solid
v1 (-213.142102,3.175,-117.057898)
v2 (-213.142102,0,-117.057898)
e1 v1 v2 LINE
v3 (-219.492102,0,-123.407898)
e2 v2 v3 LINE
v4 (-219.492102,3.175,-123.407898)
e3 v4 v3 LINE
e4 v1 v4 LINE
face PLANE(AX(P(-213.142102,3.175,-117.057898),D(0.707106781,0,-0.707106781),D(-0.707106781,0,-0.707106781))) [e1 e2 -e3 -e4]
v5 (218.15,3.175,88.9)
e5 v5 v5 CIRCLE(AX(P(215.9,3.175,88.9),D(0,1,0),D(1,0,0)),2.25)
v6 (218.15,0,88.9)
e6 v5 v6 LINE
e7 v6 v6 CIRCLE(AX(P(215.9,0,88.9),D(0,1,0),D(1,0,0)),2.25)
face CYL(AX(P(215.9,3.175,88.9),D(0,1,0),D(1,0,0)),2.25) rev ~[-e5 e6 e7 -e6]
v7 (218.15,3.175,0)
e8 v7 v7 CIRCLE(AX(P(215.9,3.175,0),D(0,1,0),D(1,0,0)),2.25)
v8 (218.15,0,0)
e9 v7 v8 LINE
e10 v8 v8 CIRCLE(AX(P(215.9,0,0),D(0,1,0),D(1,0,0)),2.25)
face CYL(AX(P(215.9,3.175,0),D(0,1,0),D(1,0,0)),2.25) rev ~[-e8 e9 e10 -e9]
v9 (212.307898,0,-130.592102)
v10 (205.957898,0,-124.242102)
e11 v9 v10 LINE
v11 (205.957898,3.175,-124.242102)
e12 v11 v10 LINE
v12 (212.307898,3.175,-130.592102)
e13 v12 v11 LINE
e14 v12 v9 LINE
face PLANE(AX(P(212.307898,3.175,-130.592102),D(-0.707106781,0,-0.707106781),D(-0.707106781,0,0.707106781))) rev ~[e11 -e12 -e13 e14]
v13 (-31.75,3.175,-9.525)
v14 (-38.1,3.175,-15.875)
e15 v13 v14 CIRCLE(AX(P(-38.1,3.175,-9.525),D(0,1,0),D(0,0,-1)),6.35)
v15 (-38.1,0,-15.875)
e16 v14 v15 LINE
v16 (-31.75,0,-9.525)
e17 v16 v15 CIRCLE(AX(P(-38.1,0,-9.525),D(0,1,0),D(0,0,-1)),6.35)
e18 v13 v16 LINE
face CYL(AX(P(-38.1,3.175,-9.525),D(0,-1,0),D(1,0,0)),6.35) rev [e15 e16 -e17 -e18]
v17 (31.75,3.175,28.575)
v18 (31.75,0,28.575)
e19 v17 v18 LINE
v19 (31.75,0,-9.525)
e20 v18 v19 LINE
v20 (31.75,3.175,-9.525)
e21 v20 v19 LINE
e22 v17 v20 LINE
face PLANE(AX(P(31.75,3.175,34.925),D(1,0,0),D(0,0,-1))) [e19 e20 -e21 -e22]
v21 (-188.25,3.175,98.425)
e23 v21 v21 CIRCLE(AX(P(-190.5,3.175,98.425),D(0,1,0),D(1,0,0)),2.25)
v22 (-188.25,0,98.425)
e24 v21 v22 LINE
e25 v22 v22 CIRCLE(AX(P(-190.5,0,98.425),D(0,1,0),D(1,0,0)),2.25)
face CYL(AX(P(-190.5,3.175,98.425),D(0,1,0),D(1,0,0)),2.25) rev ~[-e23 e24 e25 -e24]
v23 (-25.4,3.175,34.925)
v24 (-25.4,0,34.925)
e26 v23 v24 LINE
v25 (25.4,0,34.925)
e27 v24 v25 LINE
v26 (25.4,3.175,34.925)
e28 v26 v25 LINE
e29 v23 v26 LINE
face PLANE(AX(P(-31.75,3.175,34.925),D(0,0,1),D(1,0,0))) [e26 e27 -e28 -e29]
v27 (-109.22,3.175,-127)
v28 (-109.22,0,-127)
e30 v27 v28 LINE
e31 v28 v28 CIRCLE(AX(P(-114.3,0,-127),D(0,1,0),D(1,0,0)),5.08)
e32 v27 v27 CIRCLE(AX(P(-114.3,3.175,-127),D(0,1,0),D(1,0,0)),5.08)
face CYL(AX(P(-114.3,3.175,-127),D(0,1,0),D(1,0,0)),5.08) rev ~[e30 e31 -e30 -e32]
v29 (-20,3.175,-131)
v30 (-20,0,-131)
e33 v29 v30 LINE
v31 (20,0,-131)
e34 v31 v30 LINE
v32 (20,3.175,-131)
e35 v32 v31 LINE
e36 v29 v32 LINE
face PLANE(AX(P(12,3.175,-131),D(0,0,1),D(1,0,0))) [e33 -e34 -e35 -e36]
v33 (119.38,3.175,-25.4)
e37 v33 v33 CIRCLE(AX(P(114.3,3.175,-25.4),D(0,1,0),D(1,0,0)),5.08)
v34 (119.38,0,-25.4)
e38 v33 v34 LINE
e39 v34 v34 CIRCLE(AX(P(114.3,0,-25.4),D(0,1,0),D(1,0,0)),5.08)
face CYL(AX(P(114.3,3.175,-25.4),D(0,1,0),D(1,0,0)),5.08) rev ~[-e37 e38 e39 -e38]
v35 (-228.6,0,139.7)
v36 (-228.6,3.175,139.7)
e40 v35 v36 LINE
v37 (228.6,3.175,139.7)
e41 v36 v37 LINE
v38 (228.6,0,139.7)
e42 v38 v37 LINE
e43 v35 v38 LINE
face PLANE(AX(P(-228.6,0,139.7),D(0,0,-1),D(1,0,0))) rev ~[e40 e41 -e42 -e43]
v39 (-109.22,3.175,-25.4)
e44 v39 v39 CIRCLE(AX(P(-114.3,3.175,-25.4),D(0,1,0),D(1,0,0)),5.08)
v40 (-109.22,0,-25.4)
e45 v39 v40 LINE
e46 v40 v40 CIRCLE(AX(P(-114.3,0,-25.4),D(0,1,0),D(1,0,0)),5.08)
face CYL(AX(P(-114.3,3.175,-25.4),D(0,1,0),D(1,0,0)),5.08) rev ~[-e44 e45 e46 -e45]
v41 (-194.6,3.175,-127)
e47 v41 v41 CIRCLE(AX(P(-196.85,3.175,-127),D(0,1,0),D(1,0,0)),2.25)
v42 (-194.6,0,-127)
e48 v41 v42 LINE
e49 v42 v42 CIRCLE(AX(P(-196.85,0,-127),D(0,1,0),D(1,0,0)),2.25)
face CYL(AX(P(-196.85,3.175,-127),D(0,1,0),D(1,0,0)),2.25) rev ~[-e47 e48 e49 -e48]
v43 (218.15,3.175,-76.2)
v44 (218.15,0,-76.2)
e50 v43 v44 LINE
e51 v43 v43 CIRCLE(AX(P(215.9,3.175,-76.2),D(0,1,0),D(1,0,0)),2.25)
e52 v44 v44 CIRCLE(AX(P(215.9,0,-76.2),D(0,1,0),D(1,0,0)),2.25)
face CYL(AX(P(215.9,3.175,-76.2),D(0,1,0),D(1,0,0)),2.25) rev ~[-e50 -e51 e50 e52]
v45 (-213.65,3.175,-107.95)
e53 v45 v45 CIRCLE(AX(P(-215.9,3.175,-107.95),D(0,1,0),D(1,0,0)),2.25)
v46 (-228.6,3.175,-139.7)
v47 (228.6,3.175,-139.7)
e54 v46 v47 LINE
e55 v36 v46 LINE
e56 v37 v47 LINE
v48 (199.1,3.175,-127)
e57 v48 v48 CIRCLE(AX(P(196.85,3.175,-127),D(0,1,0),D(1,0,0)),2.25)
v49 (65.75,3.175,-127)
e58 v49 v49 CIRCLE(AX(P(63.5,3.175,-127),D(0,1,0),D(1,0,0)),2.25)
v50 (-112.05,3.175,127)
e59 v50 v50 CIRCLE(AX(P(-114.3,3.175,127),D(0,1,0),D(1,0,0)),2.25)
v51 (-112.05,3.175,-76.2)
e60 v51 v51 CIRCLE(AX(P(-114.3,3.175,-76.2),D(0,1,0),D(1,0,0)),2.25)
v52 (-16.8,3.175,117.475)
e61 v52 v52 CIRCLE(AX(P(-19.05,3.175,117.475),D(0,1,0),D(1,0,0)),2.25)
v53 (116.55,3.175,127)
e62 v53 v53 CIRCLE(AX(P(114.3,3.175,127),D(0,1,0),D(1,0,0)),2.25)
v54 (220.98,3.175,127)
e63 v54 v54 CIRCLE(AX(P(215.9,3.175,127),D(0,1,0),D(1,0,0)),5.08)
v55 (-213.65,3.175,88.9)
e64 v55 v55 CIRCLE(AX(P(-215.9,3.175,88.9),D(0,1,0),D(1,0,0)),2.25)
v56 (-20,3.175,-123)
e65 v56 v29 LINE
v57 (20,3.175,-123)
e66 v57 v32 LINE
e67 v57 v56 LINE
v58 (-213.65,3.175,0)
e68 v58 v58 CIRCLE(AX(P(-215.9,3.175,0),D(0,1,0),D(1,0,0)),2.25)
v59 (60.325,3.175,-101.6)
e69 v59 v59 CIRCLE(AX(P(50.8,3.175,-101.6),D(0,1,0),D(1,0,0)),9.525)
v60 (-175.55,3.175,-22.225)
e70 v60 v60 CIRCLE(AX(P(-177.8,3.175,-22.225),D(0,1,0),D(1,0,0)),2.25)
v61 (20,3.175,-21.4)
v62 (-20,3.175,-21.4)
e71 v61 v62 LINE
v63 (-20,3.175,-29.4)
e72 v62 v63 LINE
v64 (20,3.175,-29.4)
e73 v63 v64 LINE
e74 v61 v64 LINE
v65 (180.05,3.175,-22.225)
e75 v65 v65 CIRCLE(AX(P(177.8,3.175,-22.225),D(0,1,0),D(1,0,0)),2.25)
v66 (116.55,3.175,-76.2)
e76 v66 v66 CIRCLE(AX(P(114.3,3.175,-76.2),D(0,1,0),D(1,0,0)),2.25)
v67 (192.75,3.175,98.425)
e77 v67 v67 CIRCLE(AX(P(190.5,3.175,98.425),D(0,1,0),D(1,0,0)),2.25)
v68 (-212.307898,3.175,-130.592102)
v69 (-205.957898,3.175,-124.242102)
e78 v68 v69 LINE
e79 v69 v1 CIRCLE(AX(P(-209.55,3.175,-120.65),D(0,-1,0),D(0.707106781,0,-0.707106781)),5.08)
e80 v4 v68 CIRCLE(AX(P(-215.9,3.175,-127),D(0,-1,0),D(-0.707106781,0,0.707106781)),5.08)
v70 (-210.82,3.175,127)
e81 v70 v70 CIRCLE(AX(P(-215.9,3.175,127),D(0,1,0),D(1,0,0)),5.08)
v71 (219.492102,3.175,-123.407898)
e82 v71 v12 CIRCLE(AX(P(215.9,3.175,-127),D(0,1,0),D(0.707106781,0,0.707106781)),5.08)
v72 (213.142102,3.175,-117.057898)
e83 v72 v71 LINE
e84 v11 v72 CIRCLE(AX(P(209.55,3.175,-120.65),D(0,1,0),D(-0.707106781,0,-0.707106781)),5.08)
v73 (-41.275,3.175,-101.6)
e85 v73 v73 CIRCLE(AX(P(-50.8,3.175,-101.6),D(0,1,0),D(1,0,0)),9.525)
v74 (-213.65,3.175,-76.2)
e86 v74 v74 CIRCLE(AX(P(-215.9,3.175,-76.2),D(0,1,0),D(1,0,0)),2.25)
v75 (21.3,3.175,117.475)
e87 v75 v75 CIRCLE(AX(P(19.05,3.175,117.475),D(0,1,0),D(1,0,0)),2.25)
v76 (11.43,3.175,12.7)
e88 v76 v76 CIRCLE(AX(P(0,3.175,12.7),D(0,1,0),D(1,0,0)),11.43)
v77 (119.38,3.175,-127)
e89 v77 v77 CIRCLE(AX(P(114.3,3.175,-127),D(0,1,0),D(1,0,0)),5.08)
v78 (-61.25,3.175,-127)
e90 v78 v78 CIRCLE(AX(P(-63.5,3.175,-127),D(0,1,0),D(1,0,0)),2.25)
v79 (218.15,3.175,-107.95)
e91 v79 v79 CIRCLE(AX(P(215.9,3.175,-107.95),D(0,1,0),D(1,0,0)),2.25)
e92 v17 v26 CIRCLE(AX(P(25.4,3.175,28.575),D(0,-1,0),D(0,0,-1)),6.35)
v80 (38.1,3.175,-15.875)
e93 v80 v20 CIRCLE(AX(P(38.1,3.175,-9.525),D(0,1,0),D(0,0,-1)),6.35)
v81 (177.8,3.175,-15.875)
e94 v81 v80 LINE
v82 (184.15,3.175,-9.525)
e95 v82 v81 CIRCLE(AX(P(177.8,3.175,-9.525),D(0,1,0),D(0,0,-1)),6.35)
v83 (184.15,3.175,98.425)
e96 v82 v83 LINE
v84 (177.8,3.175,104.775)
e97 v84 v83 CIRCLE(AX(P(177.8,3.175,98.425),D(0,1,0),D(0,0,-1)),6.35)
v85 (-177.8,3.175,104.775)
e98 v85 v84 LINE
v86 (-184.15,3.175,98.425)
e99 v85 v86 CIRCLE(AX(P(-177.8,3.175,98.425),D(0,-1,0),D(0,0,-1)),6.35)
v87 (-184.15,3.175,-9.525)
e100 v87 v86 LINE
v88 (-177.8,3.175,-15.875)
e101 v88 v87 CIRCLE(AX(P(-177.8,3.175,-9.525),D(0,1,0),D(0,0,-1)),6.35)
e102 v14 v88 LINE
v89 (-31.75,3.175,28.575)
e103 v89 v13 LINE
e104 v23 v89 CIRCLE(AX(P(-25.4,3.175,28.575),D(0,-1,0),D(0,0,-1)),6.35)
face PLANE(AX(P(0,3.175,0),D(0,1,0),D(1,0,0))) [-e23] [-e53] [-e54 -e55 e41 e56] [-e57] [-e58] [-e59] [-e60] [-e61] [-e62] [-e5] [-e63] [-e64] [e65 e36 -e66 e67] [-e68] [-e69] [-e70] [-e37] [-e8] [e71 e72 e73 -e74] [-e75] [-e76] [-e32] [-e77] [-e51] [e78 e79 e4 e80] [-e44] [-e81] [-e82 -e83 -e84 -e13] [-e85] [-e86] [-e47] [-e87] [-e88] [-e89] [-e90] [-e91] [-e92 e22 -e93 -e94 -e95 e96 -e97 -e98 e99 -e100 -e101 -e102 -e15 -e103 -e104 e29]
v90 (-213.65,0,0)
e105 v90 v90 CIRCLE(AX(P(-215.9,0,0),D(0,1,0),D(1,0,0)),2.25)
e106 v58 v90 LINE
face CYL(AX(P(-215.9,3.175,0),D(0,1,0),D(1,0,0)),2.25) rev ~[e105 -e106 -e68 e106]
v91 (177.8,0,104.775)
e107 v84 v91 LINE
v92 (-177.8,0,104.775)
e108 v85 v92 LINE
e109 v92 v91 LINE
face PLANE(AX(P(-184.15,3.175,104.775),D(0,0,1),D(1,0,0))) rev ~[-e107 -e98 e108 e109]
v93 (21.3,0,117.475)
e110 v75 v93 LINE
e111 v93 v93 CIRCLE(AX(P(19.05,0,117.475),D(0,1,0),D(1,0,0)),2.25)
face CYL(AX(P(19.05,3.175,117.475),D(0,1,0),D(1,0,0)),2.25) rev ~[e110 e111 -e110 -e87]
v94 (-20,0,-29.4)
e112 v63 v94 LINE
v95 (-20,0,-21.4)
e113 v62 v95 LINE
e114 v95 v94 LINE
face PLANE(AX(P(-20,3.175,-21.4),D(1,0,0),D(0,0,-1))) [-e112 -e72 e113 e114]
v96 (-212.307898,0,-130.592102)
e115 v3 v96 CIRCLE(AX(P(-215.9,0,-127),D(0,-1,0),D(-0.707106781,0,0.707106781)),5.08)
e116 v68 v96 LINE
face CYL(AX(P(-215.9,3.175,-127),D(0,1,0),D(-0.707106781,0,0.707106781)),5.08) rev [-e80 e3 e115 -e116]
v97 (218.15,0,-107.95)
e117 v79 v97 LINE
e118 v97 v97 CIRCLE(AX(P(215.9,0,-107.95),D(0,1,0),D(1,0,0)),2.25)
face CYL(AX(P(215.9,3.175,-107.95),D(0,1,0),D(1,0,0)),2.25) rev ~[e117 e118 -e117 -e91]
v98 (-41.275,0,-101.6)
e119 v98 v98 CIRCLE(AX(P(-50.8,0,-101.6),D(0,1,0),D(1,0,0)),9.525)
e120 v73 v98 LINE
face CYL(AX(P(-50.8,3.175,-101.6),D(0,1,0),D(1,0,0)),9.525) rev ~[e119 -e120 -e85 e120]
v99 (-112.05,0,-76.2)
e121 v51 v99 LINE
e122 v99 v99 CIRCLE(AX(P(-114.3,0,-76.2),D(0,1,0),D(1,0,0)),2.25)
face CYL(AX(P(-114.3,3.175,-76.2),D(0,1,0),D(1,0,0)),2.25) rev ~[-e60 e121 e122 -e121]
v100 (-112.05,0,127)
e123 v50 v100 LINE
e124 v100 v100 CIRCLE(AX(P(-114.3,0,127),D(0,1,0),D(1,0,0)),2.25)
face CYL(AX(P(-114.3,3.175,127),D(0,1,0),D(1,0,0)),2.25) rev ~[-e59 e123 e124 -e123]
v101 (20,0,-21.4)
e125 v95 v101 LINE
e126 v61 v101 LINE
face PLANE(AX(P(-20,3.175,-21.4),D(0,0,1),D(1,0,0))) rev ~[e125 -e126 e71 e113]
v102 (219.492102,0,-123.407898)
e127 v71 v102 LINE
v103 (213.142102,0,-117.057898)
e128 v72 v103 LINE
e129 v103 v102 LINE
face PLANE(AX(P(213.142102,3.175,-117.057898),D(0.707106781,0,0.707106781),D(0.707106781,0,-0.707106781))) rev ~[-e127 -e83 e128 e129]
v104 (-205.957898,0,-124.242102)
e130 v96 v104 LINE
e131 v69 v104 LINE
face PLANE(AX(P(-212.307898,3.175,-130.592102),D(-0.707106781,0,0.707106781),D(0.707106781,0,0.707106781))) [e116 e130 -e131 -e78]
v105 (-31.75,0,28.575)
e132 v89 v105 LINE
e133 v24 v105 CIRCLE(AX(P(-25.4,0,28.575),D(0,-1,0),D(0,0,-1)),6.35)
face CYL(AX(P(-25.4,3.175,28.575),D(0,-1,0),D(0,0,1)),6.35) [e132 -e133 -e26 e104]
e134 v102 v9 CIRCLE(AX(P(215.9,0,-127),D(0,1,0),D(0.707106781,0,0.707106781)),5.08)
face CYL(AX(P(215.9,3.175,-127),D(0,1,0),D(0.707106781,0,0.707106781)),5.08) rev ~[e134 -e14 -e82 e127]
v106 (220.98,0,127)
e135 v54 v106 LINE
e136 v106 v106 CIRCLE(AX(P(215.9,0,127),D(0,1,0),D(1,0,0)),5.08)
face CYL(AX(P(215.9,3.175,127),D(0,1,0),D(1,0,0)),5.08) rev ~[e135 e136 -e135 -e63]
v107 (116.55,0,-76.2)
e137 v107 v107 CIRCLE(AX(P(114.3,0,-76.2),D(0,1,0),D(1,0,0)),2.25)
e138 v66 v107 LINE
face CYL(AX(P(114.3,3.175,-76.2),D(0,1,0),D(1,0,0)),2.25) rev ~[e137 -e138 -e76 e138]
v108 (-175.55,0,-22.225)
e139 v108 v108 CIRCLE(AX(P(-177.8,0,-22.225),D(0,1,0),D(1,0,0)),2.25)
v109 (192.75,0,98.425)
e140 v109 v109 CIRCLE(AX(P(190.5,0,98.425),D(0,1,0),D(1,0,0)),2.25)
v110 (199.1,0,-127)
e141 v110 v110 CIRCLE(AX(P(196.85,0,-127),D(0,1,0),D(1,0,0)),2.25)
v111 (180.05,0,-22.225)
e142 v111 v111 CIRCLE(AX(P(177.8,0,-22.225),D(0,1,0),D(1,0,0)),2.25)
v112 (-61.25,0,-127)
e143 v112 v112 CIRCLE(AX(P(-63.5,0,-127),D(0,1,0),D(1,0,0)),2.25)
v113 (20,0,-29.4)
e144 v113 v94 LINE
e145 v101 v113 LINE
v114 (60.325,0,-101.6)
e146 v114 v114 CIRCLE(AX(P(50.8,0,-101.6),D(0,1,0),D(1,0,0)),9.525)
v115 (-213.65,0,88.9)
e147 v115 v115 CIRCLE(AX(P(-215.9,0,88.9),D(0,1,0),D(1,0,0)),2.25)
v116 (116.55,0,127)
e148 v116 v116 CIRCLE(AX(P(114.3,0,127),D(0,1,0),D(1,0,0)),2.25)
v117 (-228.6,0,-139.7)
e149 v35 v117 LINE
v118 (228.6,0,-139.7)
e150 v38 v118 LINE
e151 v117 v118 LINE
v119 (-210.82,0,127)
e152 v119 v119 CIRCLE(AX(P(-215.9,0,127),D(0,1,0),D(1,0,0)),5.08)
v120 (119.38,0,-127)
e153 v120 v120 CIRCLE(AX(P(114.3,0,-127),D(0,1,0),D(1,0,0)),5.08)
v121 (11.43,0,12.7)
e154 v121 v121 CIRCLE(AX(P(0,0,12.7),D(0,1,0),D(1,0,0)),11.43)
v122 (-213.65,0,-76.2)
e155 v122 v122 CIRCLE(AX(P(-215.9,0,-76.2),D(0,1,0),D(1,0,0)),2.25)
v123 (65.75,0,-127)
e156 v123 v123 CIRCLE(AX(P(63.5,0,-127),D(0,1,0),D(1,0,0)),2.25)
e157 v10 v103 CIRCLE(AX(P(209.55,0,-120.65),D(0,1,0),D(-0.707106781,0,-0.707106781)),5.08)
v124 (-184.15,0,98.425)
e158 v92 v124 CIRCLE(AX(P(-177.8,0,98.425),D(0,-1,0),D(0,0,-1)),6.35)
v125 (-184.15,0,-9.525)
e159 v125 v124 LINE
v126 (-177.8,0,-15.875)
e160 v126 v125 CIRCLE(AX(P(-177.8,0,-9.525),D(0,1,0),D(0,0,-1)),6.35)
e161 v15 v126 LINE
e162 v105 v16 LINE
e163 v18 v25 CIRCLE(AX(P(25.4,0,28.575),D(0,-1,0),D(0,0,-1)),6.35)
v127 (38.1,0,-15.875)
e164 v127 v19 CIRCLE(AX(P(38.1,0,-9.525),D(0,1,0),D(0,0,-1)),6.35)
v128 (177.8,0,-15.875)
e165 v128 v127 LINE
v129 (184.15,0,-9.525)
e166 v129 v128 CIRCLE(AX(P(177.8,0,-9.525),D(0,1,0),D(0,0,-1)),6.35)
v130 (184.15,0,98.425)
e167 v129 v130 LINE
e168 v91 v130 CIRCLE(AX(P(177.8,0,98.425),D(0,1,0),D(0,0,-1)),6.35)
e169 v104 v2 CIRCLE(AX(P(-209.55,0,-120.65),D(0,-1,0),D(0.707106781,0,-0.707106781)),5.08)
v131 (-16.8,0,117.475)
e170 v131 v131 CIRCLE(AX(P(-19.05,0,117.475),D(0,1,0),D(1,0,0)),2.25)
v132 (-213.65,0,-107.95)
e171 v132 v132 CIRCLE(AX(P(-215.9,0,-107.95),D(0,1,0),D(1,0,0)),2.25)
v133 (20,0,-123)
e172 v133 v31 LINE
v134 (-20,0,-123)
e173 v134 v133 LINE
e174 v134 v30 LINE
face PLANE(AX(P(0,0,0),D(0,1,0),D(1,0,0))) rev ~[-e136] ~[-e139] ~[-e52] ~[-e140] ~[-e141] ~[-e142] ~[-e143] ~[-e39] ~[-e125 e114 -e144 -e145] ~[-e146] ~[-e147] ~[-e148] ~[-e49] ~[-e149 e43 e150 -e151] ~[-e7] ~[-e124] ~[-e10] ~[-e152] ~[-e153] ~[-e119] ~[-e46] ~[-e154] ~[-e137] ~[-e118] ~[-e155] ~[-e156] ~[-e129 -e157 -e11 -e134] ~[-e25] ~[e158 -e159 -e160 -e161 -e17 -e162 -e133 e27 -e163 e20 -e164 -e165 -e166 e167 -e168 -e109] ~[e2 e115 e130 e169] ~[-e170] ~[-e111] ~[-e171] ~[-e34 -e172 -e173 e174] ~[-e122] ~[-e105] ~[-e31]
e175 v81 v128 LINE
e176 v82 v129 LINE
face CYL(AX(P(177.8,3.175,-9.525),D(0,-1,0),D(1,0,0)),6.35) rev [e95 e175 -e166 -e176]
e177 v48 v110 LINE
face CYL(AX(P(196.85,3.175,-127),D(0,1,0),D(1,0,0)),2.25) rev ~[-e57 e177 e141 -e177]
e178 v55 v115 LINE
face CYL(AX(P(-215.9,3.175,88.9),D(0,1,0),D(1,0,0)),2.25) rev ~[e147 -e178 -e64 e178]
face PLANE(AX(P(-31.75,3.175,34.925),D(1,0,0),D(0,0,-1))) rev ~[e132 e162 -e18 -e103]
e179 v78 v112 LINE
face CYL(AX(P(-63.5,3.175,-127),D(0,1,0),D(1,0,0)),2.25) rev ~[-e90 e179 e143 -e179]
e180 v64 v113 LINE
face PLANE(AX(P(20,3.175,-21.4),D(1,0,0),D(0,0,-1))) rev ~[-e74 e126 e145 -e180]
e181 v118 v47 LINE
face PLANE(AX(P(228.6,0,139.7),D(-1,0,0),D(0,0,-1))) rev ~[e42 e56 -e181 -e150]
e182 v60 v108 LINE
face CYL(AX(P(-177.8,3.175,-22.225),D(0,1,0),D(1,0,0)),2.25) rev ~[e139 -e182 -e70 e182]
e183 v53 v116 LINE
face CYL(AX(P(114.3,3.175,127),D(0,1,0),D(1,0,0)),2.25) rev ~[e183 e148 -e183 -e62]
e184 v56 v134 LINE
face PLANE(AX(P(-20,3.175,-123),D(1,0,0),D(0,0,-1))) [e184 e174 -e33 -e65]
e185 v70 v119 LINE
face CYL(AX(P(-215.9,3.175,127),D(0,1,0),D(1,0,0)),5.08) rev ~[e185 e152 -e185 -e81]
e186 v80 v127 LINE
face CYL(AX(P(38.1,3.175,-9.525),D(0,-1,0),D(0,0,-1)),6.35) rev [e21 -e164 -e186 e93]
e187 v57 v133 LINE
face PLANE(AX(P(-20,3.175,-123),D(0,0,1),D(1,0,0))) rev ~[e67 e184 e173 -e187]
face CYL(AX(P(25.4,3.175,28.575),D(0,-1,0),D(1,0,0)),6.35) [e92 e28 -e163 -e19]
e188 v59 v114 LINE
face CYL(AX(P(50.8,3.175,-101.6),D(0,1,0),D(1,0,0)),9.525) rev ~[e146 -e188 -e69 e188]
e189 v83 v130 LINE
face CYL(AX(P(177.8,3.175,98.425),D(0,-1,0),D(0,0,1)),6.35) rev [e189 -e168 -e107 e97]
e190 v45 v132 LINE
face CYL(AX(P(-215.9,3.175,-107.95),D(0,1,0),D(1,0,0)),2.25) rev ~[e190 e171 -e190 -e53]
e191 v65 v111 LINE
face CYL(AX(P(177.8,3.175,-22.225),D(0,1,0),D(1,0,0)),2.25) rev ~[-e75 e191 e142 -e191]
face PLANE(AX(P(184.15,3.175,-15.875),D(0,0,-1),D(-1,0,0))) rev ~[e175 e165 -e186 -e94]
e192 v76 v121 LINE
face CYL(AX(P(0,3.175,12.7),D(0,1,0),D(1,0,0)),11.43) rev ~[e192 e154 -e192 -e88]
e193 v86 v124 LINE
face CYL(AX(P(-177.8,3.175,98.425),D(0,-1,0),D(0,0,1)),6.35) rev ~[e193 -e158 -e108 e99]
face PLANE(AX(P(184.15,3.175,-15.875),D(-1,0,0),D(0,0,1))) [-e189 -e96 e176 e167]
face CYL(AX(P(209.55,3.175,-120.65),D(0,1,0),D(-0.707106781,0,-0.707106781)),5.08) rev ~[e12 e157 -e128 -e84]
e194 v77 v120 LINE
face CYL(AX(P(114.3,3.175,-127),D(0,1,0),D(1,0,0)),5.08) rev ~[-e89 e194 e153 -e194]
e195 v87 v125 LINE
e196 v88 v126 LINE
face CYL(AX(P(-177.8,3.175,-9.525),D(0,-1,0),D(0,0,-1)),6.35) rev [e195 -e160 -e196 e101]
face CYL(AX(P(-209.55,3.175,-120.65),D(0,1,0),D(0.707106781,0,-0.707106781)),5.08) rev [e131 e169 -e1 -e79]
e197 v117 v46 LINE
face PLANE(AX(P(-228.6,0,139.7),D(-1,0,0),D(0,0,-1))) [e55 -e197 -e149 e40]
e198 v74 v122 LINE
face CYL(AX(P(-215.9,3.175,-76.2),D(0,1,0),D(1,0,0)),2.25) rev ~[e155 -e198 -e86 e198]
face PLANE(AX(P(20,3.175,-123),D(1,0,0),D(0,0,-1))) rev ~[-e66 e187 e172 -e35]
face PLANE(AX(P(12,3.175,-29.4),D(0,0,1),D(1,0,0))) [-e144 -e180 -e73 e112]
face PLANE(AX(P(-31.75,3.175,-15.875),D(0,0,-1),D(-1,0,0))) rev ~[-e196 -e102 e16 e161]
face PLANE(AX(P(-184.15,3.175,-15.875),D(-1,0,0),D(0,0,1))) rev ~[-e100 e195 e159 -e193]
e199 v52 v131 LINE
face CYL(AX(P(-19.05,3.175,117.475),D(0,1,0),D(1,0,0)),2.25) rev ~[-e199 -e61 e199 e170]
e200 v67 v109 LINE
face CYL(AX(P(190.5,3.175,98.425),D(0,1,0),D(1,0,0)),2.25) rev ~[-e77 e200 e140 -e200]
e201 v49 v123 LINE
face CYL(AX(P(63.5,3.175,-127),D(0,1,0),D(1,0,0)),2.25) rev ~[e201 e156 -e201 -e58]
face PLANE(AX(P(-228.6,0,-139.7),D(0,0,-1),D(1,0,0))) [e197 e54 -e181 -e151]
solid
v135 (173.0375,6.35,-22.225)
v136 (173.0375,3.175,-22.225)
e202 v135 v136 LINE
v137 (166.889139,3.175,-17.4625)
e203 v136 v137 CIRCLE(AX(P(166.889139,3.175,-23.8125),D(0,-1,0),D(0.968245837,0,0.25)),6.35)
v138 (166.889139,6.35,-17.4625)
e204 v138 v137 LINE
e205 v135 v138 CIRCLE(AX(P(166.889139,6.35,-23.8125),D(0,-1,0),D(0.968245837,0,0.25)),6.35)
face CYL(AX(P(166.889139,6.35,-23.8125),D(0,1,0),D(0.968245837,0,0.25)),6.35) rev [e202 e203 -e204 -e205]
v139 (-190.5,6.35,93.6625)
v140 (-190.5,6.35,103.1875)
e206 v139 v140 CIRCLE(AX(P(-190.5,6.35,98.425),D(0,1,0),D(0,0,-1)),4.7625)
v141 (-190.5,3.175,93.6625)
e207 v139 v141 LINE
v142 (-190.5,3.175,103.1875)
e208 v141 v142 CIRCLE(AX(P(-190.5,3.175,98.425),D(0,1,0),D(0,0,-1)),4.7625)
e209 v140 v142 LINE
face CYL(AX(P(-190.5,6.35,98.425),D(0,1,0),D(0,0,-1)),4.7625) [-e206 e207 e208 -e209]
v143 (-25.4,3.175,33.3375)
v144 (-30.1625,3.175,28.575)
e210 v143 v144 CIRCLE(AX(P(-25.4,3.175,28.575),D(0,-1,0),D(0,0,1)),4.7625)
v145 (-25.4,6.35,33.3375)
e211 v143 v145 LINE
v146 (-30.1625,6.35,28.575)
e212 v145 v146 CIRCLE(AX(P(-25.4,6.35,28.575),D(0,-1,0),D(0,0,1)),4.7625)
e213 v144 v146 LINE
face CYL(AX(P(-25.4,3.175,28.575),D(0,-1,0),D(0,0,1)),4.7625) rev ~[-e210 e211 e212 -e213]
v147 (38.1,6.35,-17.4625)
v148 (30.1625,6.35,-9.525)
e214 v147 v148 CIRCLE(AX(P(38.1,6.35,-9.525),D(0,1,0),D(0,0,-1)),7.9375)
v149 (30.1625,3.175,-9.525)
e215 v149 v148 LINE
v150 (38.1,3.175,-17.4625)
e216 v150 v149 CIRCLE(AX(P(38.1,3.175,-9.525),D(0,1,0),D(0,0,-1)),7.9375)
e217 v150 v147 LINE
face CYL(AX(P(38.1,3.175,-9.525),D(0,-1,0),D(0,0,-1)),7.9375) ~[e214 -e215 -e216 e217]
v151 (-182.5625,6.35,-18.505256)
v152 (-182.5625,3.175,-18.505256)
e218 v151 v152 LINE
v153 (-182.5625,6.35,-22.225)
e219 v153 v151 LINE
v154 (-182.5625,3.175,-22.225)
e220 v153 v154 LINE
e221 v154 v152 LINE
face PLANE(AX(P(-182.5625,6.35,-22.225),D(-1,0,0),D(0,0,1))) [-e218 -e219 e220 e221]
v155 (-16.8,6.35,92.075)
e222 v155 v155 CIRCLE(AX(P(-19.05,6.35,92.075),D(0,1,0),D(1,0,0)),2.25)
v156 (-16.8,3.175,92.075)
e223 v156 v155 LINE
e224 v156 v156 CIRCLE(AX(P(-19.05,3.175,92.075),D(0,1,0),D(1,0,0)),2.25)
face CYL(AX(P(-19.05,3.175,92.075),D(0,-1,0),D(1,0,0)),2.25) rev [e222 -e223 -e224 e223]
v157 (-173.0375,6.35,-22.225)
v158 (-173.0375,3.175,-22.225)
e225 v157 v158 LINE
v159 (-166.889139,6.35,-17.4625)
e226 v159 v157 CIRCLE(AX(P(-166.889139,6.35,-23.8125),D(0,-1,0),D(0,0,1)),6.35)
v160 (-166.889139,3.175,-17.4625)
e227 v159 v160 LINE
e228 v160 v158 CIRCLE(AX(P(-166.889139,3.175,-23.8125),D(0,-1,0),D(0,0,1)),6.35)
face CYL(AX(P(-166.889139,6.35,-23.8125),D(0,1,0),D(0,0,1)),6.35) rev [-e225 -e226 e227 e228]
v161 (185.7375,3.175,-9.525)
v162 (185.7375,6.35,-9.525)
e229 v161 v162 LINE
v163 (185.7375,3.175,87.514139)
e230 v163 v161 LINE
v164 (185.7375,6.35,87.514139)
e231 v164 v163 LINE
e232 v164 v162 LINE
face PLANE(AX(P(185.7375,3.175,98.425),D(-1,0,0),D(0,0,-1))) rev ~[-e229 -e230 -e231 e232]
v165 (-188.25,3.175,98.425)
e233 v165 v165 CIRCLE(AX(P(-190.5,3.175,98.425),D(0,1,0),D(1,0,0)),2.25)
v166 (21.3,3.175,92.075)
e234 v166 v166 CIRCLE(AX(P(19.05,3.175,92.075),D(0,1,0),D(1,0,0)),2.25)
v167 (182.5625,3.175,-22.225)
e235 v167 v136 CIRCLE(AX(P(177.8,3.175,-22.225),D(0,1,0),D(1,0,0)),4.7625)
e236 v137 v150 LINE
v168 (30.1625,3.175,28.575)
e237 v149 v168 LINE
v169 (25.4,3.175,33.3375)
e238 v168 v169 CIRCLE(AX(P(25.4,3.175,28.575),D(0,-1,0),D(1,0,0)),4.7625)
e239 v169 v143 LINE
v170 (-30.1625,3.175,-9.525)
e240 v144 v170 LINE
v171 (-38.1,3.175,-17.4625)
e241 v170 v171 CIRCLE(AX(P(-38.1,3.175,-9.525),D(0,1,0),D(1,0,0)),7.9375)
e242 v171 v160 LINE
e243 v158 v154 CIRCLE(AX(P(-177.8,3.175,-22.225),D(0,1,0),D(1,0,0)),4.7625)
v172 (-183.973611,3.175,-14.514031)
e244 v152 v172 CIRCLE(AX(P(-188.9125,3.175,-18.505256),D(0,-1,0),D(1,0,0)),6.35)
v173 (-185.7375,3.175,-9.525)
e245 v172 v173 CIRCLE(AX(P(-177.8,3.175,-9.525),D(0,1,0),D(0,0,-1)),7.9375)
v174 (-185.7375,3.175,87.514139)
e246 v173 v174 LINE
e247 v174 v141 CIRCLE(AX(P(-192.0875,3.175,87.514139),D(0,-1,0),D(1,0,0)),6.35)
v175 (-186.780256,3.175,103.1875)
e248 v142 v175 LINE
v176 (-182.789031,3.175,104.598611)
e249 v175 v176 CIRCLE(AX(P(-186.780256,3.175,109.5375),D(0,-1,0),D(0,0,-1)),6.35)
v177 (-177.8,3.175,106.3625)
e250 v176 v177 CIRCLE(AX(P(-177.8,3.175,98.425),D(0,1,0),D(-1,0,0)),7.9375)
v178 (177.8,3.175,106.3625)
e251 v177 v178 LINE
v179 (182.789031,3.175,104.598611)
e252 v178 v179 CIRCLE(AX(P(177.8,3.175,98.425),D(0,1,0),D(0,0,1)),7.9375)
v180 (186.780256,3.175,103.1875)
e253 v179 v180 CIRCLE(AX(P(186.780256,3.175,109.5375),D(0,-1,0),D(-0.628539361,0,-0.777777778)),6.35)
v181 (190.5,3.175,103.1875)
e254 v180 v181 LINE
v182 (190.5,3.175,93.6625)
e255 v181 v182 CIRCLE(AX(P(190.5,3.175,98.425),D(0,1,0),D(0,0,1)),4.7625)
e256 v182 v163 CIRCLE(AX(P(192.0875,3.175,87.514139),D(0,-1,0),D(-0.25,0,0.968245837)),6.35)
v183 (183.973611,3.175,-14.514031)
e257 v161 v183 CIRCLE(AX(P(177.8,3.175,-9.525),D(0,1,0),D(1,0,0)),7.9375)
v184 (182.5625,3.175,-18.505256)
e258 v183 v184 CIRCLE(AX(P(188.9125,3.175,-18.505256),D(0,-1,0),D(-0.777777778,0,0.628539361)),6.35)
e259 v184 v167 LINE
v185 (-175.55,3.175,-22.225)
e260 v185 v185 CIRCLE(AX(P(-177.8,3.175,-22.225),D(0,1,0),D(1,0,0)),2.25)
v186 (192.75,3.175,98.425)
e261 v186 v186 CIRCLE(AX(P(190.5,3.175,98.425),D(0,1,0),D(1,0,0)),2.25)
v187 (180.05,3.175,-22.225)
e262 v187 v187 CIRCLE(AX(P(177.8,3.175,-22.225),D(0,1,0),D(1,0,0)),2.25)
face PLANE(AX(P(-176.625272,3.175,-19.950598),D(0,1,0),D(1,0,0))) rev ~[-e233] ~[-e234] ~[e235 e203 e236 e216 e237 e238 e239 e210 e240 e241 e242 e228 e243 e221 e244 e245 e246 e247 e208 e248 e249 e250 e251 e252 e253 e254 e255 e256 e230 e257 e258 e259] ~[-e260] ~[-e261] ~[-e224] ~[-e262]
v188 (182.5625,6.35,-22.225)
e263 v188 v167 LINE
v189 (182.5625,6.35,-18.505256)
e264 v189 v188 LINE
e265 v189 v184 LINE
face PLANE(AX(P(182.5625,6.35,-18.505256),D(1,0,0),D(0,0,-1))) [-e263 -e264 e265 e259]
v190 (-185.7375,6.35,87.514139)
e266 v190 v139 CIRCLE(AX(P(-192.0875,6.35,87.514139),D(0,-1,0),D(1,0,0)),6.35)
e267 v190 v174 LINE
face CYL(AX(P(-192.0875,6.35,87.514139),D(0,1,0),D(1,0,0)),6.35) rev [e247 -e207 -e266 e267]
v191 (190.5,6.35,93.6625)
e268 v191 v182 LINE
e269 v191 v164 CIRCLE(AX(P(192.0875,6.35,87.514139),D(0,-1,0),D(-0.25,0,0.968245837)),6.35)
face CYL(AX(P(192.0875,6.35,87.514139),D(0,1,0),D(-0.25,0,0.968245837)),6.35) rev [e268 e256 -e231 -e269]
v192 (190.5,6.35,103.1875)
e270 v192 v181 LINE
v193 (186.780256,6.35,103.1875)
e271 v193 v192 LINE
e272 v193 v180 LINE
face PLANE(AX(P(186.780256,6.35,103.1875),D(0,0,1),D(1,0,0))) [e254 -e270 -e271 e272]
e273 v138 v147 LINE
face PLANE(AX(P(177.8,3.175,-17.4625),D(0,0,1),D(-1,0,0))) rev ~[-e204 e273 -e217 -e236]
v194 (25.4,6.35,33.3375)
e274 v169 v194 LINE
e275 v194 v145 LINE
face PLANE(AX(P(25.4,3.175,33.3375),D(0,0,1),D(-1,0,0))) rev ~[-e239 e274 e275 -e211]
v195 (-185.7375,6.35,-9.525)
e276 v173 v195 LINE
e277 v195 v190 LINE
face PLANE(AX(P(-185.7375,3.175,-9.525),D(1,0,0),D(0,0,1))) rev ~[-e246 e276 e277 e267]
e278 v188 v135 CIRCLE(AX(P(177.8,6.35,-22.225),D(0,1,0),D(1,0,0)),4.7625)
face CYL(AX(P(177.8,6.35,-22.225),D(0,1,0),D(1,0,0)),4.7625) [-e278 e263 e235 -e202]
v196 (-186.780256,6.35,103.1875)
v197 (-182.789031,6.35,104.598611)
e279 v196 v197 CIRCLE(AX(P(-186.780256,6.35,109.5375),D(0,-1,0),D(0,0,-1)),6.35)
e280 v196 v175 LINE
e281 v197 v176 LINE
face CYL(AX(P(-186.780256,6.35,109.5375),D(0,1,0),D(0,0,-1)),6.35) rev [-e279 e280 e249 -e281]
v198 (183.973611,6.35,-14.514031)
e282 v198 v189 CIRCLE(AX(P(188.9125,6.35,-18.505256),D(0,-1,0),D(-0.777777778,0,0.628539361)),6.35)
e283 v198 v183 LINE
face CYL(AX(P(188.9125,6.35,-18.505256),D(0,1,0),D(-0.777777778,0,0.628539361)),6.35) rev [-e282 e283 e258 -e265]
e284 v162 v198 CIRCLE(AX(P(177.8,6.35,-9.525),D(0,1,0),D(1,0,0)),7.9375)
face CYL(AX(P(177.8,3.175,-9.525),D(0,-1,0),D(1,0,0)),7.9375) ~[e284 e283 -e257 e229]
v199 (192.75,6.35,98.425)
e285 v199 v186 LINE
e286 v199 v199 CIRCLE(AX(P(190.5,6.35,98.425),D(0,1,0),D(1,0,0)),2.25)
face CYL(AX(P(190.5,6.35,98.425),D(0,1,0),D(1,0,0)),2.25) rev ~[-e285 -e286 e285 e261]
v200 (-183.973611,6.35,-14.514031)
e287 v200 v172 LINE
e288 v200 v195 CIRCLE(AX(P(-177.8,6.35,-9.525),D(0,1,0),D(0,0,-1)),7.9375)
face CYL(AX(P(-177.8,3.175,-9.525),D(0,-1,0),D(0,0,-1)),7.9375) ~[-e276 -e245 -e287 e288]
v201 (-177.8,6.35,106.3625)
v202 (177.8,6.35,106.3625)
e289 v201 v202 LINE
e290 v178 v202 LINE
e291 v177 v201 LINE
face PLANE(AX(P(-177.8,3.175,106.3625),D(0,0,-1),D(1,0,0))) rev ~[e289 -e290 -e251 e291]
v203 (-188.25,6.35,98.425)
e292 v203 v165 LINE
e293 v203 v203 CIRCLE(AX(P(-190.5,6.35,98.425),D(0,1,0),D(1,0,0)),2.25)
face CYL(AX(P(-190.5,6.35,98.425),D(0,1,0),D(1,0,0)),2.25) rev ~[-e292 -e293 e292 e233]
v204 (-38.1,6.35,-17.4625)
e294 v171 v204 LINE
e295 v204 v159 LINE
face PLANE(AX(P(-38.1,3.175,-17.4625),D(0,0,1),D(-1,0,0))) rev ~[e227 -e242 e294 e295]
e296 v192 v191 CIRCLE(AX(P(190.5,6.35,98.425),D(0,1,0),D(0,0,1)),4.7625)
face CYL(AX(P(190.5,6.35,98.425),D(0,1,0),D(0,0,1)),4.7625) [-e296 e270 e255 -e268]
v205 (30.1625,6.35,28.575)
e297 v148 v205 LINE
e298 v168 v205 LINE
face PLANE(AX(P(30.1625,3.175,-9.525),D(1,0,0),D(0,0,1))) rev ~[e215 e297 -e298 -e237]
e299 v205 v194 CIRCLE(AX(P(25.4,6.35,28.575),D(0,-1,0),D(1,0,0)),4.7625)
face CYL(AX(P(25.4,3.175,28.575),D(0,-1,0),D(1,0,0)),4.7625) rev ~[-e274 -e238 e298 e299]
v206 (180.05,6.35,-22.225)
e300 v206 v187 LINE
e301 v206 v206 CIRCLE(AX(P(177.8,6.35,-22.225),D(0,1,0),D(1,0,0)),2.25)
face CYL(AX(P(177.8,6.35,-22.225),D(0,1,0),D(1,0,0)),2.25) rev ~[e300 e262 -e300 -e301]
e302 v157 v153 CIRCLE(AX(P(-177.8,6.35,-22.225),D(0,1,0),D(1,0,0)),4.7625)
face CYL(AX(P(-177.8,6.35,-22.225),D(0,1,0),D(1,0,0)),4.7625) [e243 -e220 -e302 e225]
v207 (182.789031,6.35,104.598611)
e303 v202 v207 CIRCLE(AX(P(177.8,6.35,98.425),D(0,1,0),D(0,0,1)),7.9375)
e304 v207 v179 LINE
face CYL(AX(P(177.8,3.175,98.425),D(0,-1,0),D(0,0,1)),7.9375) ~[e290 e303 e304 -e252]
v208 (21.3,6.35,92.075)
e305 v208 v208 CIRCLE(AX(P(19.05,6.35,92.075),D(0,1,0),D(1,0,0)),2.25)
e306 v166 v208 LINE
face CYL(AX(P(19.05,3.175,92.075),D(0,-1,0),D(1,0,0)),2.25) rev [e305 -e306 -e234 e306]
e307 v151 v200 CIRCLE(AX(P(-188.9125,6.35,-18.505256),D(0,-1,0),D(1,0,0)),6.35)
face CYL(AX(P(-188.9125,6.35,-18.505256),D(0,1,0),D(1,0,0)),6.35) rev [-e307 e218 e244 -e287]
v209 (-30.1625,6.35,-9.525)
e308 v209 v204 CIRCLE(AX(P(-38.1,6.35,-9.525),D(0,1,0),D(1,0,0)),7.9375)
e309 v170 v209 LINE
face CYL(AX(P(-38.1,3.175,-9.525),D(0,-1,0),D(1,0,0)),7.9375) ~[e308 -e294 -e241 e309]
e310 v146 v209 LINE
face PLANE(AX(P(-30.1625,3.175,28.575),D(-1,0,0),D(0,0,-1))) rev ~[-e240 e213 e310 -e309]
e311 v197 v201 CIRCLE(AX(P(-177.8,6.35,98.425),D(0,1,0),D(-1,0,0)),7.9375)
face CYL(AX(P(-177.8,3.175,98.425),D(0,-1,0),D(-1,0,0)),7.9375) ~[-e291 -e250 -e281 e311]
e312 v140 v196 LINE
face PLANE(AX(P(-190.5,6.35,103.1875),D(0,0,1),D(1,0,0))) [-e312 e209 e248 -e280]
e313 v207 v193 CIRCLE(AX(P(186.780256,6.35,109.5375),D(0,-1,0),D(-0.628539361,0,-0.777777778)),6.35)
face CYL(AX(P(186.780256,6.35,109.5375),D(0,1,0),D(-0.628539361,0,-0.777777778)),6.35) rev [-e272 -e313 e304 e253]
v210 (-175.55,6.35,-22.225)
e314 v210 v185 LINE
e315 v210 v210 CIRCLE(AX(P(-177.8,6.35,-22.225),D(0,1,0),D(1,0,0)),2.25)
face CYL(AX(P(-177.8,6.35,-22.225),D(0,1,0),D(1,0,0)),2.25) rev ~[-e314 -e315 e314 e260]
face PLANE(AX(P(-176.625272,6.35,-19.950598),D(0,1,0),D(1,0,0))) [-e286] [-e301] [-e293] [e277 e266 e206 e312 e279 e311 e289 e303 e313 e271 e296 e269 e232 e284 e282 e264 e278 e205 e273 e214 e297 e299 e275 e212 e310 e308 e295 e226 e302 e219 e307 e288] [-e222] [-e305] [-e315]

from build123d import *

# Parameters (mm, degrees)
SKETCH1_W           = 457.2
SKETCH1_H           = 279.4
BOSS_EXTRUDE1_DEPTH = 3.175
SKETCH2_R           = 5.08
SKETCH2_R_2         = 11.43
SKETCH2_W           = 8
SKETCH2_H           = 8
CUT_EXTRUDE1_DEPTH  = 3.175
SKETCH3_W           = 40
SKETCH3_H           = 8
CUT_EXTRUDE2_DEPTH  = 25.4
SKETCH4_R           = 2.25
CUT_EXTRUDE3_DEPTH  = 25.4
SKETCH5_R           = 9.525
CUT_EXTRUDE4_DEPTH  = 101.6
SKETCH6_R           = 2.25
CUT_EXTRUDE5_DEPTH  = 637.032
SKETCH7_W           = 190.5
SKETCH7_H           = 69.85
SKETCH7_W_2         = 63.5
SKETCH7_H_2         = 50.8
SKETCH7_R           = 2.25
CUT_EXTRUDE6_DEPTH  = 25.4
FILLET1_R           = 6.35
SKETCH8_R           = 2.25
BOSS_EXTRUDE2_DEPTH = 3.175
SKETCH9_R           = 2.25
BOSS_EXTRUDE3_DEPTH = 3.175


with BuildPart() as part:
    # Sketch1 → Boss-Extrude1 (new body)
    with BuildSketch(Plane(origin=(0, 0, 0), x_dir=(1, 0, 0), z_dir=(0, 1, 0))):
        Rectangle(SKETCH1_W, SKETCH1_H)
    extrude(amount=BOSS_EXTRUDE1_DEPTH)

    # Sketch2 → Cut-Extrude1 (cut)
    with BuildSketch(Plane(origin=(0, 3.175, 0), x_dir=(1, 0, 0), z_dir=(0, 1, 0))):
        with Locations((-114.3, 127)):
            Circle(SKETCH2_R)
        with Locations((114.3, 127)):
            Circle(SKETCH2_R)
        with Locations((-215.9, -127)):
            Circle(SKETCH2_R)
        with Locations((215.9, -127)):
            Circle(SKETCH2_R)
        with Locations((114.3, 25.4)):
            Circle(SKETCH2_R)
        with Locations((-114.3, 25.4)):
            Circle(SKETCH2_R)
        with Locations((0, -12.7)):
            Circle(SKETCH2_R_2)
        with BuildLine():
            Line((-212.307897552, 130.592102448), (-205.957897552, 124.242102448))
            ThreePointArc((-205.957897552, 124.242102448), (-205.957897552, 117.057897552), (-213.142102448, 117.057897552))
            Line((-213.142102448, 117.057897552), (-219.492102448, 123.407897552))
            ThreePointArc((-219.492102448, 123.407897552), (-219.492102448, 130.592102448), (-212.307897552, 130.592102448))
        make_face()
        with BuildLine():
            Line((212.307897552, 130.592102448), (205.957897552, 124.242102448))
            ThreePointArc((205.957897552, 124.242102448), (205.957897552, 117.057897552), (213.142102448, 117.057897552))
            Line((213.142102448, 117.057897552), (219.492102448, 123.407897552))
            ThreePointArc((219.492102448, 123.407897552), (219.492102448, 130.592102448), (212.307897552, 130.592102448))
        make_face()
        with Locations((-16, 127)):
            Rectangle(SKETCH2_W, SKETCH2_H)
        with Locations((16, 127)):
            Rectangle(SKETCH2_W, SKETCH2_H)
        with Locations((16, 25.4)):
            Rectangle(SKETCH2_W, SKETCH2_H)
        with Locations((-16, 25.4)):
            Rectangle(SKETCH2_W, SKETCH2_H)
    extrude(amount=-CUT_EXTRUDE1_DEPTH, mode=Mode.SUBTRACT)

    # Sketch3 → Cut-Extrude2 (cut)
    with BuildSketch(Plane(origin=(0, 3.175, 0), x_dir=(1, 0, 0), z_dir=(0, 1, 0))):
        with Locations((0, 127)):
            Rectangle(SKETCH3_W, SKETCH3_H)
        with Locations((0, 25.4)):
            Rectangle(SKETCH3_W, SKETCH3_H)
    extrude(amount=-CUT_EXTRUDE2_DEPTH, mode=Mode.SUBTRACT)

    # Sketch4 → Cut-Extrude3 (cut)
    with BuildSketch(Plane(origin=(0, 3.175, 0), x_dir=(1, 0, 0), z_dir=(0, 1, 0))):
        with Locations((-196.85, 127)):
            Circle(SKETCH4_R)
        with Locations((-215.9, 107.95)):
            Circle(SKETCH4_R)
        with Locations((196.85, 127)):
            Circle(SKETCH4_R)
        with Locations((215.9, 107.95)):
            Circle(SKETCH4_R)
    extrude(amount=-CUT_EXTRUDE3_DEPTH, mode=Mode.SUBTRACT)

    # Sketch5 → Cut-Extrude4 (cut)
    with BuildSketch(Plane(origin=(0, 3.175, 0), x_dir=(1, 0, 0), z_dir=(0, 1, 0))):
        with Locations((-50.8, 101.6)):
            Circle(SKETCH5_R)
        with Locations((50.8, 101.6)):
            Circle(SKETCH5_R)
    extrude(amount=-CUT_EXTRUDE4_DEPTH, mode=Mode.SUBTRACT)

    # Sketch6 → Cut-Extrude5 (cut)
    with BuildSketch(Plane(origin=(0, 3.175, 0), x_dir=(1, 0, 0), z_dir=(0, 1, 0))):
        with Locations((-215.9, 76.2)):
            Circle(SKETCH6_R)
        with Locations((-215.9, 0)):
            Circle(SKETCH6_R)
        with Locations((-215.9, -88.9)):
            Circle(SKETCH6_R)
        with Locations((-114.3, -76.2)):
            Circle(SKETCH6_R)
        with Locations((-114.3, 76.2)):
            Circle(SKETCH6_R)
        with Locations((-63.5, 127)):
            Circle(SKETCH6_R)
        with Locations((63.5, 127)):
            Circle(SKETCH6_R)
        with Locations((114.3, 76.2)):
            Circle(SKETCH6_R)
        with Locations((215.9, -88.9)):
            Circle(SKETCH6_R)
        with Locations((215.9, 0)):
            Circle(SKETCH6_R)
        with Locations((215.9, 76.2)):
            Circle(SKETCH6_R)
    extrude(amount=-CUT_EXTRUDE5_DEPTH, mode=Mode.SUBTRACT)

    # Sketch7 → Cut-Extrude6 (cut)
    with BuildSketch(Plane(origin=(0, 3.175, 0), x_dir=(1, 0, 0), z_dir=(0, 1, 0))):
        with Locations((0, -69.85)):
            Rectangle(SKETCH7_W, SKETCH7_H)
        with Locations((-63.5, -9.525)):
            Rectangle(SKETCH7_W_2, SKETCH7_H_2)
        with Locations((63.5, -9.525)):
            Rectangle(SKETCH7_W_2, SKETCH7_H_2)
        Polygon((-95.25, 15.875), (-184.15, 15.875), (-184.15, -104.775), (-95.25, -104.775), (-95.25, -34.925), align=None)
        with Locations((-114.3, -76.2)):
            Circle(SKETCH7_R, mode=Mode.SUBTRACT)
        Polygon((184.15, 15.875), (184.15, -104.775), (95.25, -104.775), (95.25, -34.925), (95.25, 15.875), align=None)
        with Locations((-19.05, -117.475)):
            Circle(SKETCH7_R)
        with Locations((19.05, -117.475)):
            Circle(SKETCH7_R)
        with Locations((114.3, -127)):
            Circle(SKETCH7_R)
        with Locations((-190.5, -98.425)):
            Circle(SKETCH7_R)
        with Locations((-177.8, 22.225)):
            Circle(SKETCH7_R)
        with Locations((190.5, -98.425)):
            Circle(SKETCH7_R)
        with Locations((-114.3, -127)):
            Circle(SKETCH7_R)
        with Locations((177.8, 22.225)):
            Circle(SKETCH7_R)
    extrude(amount=-CUT_EXTRUDE6_DEPTH, mode=Mode.SUBTRACT)

    # Fillet1
    fillet1_edges = [part.edges().sort_by_distance(p)[0] for p in [
        (-184.15, 1.5875, -15.875),
        (-31.75, 1.5875, -15.875),
        (-31.75, 1.5875, 34.925),
        (31.75, 1.5875, 34.925),
        (31.75, 1.5875, -15.875),
        (184.15, 1.5875, -15.875),
        (184.15, 1.5875, 104.775),
        (-184.15, 1.5875, 104.775),
    ]]
    fillet(fillet1_edges, radius=FILLET1_R)


with BuildPart() as body_2:
    # Sketch8 → Boss-Extrude2 (new body)
    with BuildSketch(Plane(origin=(0, 3.175, 0), x_dir=(1, 0, 0), z_dir=(0, 1, 0))):
        with BuildLine():
            Line((-38.1, 17.4625), (-177.8, 17.4625))
            ThreePointArc((-177.8, 17.4625), (-183.412660076, 15.137660076), (-185.7375, 9.525))
            Line((-185.7375, 9.525), (-185.7375, -98.425))
            ThreePointArc((-185.7375, -98.425), (-183.412660076, -104.037660076), (-177.8, -106.3625))
            Line((-177.8, -106.3625), (177.8, -106.3625))
            ThreePointArc((177.8, -106.3625), (183.412660076, -104.037660076), (185.7375, -98.425))
            Line((185.7375, -98.425), (185.7375, 9.525))
            ThreePointArc((185.7375, 9.525), (183.412660076, 15.137660076), (177.8, 17.4625))
            Line((177.8, 17.4625), (38.1, 17.4625))
            ThreePointArc((38.1, 17.4625), (32.487339924, 15.137660076), (30.1625, 9.525))
            Line((30.1625, 9.525), (30.1625, -28.575))
            ThreePointArc((30.1625, -28.575), (28.767596045, -31.942596045), (25.4, -33.3375))
            Line((25.4, -33.3375), (-25.4, -33.3375))
            ThreePointArc((-25.4, -33.3375), (-28.767596045, -31.942596045), (-30.1625, -28.575))
            Line((-30.1625, -28.575), (-30.1625, 9.525))
            ThreePointArc((-30.1625, 9.525), (-32.487339924, 15.137660076), (-38.1, 17.4625))
        make_face()
        with Locations((-19.05, -92.075)):
            Circle(SKETCH8_R, mode=Mode.SUBTRACT)
        with Locations((19.05, -92.075)):
            Circle(SKETCH8_R, mode=Mode.SUBTRACT)
    extrude(amount=BOSS_EXTRUDE2_DEPTH)

    # Sketch9 → Boss-Extrude3 (add)
    with BuildSketch(Plane(origin=(0, 6.35, 0), x_dir=(1, 0, 0), z_dir=(0, 1, 0))):
        with BuildLine():
            ThreePointArc((-173.0375, 22.225), (-177.8, 26.9875), (-182.5625, 22.225))
            Line((-182.5625, 22.225), (-182.5625, 18.505256121))
            ThreePointArc((-182.5625, 18.505256121), (-182.925662586, 16.388589454), (-183.973611111, 14.514031178))
            ThreePointArc((-183.973611111, 14.514031178), (-181.220779975, 16.687553359), (-177.8, 17.4625))
            Line((-177.8, 17.4625), (-166.889138938, 17.4625))
            ThreePointArc((-166.889138938, 17.4625), (-170.777703905, 18.792384214), (-173.0375, 22.225))
        make_face()
        with Locations((-177.8, 22.225)):
            Circle(SKETCH9_R, mode=Mode.SUBTRACT)
        with BuildLine():
            Line((-185.7375, -98.425), (-185.7375, -87.514138938))
            ThreePointArc((-185.7375, -87.514138938), (-187.067384214, -91.402703905), (-190.5, -93.6625))
            ThreePointArc((-190.5, -93.6625), (-195.2625, -98.425), (-190.5, -103.1875))
            Line((-190.5, -103.1875), (-186.780256121, -103.1875))
            ThreePointArc((-186.780256121, -103.1875), (-184.663589454, -103.550662586), (-182.789031178, -104.598611111))
            ThreePointArc((-182.789031178, -104.598611111), (-184.962553359, -101.845779975), (-185.7375, -98.425))
        make_face()
        with Locations((-190.5, -98.425)):
            Circle(SKETCH9_R, mode=Mode.SUBTRACT)
        with BuildLine():
            ThreePointArc((185.7375, -98.425), (184.962553359, -101.845779975), (182.789031178, -104.598611111))
            ThreePointArc((182.789031178, -104.598611111), (184.663589454, -103.550662586), (186.780256121, -103.1875))
            Line((186.780256121, -103.1875), (190.5, -103.1875))
            ThreePointArc((190.5, -103.1875), (195.2625, -98.425), (190.5, -93.6625))
            ThreePointArc((190.5, -93.6625), (187.067384214, -91.402703905), (185.7375, -87.514138938))
            Line((185.7375, -87.514138938), (185.7375, -98.425))
        make_face()
        with Locations((190.5, -98.425)):
            Circle(SKETCH9_R, mode=Mode.SUBTRACT)
        with BuildLine():
            ThreePointArc((173.0375, 22.225), (170.777703905, 18.792384214), (166.889138938, 17.4625))
            Line((166.889138938, 17.4625), (177.8, 17.4625))
            ThreePointArc((177.8, 17.4625), (181.220779975, 16.687553359), (183.973611111, 14.514031178))
            ThreePointArc((183.973611111, 14.514031178), (182.925662586, 16.388589454), (182.5625, 18.505256121))
            Line((182.5625, 18.505256121), (182.5625, 22.225))
            ThreePointArc((182.5625, 22.225), (177.8, 26.9875), (173.0375, 22.225))
        make_face()
        with Locations((177.8, 22.225)):
            Circle(SKETCH9_R, mode=Mode.SUBTRACT)
    extrude(amount=-BOSS_EXTRUDE3_DEPTH)


solid = Compound([part.part, body_2.part])
